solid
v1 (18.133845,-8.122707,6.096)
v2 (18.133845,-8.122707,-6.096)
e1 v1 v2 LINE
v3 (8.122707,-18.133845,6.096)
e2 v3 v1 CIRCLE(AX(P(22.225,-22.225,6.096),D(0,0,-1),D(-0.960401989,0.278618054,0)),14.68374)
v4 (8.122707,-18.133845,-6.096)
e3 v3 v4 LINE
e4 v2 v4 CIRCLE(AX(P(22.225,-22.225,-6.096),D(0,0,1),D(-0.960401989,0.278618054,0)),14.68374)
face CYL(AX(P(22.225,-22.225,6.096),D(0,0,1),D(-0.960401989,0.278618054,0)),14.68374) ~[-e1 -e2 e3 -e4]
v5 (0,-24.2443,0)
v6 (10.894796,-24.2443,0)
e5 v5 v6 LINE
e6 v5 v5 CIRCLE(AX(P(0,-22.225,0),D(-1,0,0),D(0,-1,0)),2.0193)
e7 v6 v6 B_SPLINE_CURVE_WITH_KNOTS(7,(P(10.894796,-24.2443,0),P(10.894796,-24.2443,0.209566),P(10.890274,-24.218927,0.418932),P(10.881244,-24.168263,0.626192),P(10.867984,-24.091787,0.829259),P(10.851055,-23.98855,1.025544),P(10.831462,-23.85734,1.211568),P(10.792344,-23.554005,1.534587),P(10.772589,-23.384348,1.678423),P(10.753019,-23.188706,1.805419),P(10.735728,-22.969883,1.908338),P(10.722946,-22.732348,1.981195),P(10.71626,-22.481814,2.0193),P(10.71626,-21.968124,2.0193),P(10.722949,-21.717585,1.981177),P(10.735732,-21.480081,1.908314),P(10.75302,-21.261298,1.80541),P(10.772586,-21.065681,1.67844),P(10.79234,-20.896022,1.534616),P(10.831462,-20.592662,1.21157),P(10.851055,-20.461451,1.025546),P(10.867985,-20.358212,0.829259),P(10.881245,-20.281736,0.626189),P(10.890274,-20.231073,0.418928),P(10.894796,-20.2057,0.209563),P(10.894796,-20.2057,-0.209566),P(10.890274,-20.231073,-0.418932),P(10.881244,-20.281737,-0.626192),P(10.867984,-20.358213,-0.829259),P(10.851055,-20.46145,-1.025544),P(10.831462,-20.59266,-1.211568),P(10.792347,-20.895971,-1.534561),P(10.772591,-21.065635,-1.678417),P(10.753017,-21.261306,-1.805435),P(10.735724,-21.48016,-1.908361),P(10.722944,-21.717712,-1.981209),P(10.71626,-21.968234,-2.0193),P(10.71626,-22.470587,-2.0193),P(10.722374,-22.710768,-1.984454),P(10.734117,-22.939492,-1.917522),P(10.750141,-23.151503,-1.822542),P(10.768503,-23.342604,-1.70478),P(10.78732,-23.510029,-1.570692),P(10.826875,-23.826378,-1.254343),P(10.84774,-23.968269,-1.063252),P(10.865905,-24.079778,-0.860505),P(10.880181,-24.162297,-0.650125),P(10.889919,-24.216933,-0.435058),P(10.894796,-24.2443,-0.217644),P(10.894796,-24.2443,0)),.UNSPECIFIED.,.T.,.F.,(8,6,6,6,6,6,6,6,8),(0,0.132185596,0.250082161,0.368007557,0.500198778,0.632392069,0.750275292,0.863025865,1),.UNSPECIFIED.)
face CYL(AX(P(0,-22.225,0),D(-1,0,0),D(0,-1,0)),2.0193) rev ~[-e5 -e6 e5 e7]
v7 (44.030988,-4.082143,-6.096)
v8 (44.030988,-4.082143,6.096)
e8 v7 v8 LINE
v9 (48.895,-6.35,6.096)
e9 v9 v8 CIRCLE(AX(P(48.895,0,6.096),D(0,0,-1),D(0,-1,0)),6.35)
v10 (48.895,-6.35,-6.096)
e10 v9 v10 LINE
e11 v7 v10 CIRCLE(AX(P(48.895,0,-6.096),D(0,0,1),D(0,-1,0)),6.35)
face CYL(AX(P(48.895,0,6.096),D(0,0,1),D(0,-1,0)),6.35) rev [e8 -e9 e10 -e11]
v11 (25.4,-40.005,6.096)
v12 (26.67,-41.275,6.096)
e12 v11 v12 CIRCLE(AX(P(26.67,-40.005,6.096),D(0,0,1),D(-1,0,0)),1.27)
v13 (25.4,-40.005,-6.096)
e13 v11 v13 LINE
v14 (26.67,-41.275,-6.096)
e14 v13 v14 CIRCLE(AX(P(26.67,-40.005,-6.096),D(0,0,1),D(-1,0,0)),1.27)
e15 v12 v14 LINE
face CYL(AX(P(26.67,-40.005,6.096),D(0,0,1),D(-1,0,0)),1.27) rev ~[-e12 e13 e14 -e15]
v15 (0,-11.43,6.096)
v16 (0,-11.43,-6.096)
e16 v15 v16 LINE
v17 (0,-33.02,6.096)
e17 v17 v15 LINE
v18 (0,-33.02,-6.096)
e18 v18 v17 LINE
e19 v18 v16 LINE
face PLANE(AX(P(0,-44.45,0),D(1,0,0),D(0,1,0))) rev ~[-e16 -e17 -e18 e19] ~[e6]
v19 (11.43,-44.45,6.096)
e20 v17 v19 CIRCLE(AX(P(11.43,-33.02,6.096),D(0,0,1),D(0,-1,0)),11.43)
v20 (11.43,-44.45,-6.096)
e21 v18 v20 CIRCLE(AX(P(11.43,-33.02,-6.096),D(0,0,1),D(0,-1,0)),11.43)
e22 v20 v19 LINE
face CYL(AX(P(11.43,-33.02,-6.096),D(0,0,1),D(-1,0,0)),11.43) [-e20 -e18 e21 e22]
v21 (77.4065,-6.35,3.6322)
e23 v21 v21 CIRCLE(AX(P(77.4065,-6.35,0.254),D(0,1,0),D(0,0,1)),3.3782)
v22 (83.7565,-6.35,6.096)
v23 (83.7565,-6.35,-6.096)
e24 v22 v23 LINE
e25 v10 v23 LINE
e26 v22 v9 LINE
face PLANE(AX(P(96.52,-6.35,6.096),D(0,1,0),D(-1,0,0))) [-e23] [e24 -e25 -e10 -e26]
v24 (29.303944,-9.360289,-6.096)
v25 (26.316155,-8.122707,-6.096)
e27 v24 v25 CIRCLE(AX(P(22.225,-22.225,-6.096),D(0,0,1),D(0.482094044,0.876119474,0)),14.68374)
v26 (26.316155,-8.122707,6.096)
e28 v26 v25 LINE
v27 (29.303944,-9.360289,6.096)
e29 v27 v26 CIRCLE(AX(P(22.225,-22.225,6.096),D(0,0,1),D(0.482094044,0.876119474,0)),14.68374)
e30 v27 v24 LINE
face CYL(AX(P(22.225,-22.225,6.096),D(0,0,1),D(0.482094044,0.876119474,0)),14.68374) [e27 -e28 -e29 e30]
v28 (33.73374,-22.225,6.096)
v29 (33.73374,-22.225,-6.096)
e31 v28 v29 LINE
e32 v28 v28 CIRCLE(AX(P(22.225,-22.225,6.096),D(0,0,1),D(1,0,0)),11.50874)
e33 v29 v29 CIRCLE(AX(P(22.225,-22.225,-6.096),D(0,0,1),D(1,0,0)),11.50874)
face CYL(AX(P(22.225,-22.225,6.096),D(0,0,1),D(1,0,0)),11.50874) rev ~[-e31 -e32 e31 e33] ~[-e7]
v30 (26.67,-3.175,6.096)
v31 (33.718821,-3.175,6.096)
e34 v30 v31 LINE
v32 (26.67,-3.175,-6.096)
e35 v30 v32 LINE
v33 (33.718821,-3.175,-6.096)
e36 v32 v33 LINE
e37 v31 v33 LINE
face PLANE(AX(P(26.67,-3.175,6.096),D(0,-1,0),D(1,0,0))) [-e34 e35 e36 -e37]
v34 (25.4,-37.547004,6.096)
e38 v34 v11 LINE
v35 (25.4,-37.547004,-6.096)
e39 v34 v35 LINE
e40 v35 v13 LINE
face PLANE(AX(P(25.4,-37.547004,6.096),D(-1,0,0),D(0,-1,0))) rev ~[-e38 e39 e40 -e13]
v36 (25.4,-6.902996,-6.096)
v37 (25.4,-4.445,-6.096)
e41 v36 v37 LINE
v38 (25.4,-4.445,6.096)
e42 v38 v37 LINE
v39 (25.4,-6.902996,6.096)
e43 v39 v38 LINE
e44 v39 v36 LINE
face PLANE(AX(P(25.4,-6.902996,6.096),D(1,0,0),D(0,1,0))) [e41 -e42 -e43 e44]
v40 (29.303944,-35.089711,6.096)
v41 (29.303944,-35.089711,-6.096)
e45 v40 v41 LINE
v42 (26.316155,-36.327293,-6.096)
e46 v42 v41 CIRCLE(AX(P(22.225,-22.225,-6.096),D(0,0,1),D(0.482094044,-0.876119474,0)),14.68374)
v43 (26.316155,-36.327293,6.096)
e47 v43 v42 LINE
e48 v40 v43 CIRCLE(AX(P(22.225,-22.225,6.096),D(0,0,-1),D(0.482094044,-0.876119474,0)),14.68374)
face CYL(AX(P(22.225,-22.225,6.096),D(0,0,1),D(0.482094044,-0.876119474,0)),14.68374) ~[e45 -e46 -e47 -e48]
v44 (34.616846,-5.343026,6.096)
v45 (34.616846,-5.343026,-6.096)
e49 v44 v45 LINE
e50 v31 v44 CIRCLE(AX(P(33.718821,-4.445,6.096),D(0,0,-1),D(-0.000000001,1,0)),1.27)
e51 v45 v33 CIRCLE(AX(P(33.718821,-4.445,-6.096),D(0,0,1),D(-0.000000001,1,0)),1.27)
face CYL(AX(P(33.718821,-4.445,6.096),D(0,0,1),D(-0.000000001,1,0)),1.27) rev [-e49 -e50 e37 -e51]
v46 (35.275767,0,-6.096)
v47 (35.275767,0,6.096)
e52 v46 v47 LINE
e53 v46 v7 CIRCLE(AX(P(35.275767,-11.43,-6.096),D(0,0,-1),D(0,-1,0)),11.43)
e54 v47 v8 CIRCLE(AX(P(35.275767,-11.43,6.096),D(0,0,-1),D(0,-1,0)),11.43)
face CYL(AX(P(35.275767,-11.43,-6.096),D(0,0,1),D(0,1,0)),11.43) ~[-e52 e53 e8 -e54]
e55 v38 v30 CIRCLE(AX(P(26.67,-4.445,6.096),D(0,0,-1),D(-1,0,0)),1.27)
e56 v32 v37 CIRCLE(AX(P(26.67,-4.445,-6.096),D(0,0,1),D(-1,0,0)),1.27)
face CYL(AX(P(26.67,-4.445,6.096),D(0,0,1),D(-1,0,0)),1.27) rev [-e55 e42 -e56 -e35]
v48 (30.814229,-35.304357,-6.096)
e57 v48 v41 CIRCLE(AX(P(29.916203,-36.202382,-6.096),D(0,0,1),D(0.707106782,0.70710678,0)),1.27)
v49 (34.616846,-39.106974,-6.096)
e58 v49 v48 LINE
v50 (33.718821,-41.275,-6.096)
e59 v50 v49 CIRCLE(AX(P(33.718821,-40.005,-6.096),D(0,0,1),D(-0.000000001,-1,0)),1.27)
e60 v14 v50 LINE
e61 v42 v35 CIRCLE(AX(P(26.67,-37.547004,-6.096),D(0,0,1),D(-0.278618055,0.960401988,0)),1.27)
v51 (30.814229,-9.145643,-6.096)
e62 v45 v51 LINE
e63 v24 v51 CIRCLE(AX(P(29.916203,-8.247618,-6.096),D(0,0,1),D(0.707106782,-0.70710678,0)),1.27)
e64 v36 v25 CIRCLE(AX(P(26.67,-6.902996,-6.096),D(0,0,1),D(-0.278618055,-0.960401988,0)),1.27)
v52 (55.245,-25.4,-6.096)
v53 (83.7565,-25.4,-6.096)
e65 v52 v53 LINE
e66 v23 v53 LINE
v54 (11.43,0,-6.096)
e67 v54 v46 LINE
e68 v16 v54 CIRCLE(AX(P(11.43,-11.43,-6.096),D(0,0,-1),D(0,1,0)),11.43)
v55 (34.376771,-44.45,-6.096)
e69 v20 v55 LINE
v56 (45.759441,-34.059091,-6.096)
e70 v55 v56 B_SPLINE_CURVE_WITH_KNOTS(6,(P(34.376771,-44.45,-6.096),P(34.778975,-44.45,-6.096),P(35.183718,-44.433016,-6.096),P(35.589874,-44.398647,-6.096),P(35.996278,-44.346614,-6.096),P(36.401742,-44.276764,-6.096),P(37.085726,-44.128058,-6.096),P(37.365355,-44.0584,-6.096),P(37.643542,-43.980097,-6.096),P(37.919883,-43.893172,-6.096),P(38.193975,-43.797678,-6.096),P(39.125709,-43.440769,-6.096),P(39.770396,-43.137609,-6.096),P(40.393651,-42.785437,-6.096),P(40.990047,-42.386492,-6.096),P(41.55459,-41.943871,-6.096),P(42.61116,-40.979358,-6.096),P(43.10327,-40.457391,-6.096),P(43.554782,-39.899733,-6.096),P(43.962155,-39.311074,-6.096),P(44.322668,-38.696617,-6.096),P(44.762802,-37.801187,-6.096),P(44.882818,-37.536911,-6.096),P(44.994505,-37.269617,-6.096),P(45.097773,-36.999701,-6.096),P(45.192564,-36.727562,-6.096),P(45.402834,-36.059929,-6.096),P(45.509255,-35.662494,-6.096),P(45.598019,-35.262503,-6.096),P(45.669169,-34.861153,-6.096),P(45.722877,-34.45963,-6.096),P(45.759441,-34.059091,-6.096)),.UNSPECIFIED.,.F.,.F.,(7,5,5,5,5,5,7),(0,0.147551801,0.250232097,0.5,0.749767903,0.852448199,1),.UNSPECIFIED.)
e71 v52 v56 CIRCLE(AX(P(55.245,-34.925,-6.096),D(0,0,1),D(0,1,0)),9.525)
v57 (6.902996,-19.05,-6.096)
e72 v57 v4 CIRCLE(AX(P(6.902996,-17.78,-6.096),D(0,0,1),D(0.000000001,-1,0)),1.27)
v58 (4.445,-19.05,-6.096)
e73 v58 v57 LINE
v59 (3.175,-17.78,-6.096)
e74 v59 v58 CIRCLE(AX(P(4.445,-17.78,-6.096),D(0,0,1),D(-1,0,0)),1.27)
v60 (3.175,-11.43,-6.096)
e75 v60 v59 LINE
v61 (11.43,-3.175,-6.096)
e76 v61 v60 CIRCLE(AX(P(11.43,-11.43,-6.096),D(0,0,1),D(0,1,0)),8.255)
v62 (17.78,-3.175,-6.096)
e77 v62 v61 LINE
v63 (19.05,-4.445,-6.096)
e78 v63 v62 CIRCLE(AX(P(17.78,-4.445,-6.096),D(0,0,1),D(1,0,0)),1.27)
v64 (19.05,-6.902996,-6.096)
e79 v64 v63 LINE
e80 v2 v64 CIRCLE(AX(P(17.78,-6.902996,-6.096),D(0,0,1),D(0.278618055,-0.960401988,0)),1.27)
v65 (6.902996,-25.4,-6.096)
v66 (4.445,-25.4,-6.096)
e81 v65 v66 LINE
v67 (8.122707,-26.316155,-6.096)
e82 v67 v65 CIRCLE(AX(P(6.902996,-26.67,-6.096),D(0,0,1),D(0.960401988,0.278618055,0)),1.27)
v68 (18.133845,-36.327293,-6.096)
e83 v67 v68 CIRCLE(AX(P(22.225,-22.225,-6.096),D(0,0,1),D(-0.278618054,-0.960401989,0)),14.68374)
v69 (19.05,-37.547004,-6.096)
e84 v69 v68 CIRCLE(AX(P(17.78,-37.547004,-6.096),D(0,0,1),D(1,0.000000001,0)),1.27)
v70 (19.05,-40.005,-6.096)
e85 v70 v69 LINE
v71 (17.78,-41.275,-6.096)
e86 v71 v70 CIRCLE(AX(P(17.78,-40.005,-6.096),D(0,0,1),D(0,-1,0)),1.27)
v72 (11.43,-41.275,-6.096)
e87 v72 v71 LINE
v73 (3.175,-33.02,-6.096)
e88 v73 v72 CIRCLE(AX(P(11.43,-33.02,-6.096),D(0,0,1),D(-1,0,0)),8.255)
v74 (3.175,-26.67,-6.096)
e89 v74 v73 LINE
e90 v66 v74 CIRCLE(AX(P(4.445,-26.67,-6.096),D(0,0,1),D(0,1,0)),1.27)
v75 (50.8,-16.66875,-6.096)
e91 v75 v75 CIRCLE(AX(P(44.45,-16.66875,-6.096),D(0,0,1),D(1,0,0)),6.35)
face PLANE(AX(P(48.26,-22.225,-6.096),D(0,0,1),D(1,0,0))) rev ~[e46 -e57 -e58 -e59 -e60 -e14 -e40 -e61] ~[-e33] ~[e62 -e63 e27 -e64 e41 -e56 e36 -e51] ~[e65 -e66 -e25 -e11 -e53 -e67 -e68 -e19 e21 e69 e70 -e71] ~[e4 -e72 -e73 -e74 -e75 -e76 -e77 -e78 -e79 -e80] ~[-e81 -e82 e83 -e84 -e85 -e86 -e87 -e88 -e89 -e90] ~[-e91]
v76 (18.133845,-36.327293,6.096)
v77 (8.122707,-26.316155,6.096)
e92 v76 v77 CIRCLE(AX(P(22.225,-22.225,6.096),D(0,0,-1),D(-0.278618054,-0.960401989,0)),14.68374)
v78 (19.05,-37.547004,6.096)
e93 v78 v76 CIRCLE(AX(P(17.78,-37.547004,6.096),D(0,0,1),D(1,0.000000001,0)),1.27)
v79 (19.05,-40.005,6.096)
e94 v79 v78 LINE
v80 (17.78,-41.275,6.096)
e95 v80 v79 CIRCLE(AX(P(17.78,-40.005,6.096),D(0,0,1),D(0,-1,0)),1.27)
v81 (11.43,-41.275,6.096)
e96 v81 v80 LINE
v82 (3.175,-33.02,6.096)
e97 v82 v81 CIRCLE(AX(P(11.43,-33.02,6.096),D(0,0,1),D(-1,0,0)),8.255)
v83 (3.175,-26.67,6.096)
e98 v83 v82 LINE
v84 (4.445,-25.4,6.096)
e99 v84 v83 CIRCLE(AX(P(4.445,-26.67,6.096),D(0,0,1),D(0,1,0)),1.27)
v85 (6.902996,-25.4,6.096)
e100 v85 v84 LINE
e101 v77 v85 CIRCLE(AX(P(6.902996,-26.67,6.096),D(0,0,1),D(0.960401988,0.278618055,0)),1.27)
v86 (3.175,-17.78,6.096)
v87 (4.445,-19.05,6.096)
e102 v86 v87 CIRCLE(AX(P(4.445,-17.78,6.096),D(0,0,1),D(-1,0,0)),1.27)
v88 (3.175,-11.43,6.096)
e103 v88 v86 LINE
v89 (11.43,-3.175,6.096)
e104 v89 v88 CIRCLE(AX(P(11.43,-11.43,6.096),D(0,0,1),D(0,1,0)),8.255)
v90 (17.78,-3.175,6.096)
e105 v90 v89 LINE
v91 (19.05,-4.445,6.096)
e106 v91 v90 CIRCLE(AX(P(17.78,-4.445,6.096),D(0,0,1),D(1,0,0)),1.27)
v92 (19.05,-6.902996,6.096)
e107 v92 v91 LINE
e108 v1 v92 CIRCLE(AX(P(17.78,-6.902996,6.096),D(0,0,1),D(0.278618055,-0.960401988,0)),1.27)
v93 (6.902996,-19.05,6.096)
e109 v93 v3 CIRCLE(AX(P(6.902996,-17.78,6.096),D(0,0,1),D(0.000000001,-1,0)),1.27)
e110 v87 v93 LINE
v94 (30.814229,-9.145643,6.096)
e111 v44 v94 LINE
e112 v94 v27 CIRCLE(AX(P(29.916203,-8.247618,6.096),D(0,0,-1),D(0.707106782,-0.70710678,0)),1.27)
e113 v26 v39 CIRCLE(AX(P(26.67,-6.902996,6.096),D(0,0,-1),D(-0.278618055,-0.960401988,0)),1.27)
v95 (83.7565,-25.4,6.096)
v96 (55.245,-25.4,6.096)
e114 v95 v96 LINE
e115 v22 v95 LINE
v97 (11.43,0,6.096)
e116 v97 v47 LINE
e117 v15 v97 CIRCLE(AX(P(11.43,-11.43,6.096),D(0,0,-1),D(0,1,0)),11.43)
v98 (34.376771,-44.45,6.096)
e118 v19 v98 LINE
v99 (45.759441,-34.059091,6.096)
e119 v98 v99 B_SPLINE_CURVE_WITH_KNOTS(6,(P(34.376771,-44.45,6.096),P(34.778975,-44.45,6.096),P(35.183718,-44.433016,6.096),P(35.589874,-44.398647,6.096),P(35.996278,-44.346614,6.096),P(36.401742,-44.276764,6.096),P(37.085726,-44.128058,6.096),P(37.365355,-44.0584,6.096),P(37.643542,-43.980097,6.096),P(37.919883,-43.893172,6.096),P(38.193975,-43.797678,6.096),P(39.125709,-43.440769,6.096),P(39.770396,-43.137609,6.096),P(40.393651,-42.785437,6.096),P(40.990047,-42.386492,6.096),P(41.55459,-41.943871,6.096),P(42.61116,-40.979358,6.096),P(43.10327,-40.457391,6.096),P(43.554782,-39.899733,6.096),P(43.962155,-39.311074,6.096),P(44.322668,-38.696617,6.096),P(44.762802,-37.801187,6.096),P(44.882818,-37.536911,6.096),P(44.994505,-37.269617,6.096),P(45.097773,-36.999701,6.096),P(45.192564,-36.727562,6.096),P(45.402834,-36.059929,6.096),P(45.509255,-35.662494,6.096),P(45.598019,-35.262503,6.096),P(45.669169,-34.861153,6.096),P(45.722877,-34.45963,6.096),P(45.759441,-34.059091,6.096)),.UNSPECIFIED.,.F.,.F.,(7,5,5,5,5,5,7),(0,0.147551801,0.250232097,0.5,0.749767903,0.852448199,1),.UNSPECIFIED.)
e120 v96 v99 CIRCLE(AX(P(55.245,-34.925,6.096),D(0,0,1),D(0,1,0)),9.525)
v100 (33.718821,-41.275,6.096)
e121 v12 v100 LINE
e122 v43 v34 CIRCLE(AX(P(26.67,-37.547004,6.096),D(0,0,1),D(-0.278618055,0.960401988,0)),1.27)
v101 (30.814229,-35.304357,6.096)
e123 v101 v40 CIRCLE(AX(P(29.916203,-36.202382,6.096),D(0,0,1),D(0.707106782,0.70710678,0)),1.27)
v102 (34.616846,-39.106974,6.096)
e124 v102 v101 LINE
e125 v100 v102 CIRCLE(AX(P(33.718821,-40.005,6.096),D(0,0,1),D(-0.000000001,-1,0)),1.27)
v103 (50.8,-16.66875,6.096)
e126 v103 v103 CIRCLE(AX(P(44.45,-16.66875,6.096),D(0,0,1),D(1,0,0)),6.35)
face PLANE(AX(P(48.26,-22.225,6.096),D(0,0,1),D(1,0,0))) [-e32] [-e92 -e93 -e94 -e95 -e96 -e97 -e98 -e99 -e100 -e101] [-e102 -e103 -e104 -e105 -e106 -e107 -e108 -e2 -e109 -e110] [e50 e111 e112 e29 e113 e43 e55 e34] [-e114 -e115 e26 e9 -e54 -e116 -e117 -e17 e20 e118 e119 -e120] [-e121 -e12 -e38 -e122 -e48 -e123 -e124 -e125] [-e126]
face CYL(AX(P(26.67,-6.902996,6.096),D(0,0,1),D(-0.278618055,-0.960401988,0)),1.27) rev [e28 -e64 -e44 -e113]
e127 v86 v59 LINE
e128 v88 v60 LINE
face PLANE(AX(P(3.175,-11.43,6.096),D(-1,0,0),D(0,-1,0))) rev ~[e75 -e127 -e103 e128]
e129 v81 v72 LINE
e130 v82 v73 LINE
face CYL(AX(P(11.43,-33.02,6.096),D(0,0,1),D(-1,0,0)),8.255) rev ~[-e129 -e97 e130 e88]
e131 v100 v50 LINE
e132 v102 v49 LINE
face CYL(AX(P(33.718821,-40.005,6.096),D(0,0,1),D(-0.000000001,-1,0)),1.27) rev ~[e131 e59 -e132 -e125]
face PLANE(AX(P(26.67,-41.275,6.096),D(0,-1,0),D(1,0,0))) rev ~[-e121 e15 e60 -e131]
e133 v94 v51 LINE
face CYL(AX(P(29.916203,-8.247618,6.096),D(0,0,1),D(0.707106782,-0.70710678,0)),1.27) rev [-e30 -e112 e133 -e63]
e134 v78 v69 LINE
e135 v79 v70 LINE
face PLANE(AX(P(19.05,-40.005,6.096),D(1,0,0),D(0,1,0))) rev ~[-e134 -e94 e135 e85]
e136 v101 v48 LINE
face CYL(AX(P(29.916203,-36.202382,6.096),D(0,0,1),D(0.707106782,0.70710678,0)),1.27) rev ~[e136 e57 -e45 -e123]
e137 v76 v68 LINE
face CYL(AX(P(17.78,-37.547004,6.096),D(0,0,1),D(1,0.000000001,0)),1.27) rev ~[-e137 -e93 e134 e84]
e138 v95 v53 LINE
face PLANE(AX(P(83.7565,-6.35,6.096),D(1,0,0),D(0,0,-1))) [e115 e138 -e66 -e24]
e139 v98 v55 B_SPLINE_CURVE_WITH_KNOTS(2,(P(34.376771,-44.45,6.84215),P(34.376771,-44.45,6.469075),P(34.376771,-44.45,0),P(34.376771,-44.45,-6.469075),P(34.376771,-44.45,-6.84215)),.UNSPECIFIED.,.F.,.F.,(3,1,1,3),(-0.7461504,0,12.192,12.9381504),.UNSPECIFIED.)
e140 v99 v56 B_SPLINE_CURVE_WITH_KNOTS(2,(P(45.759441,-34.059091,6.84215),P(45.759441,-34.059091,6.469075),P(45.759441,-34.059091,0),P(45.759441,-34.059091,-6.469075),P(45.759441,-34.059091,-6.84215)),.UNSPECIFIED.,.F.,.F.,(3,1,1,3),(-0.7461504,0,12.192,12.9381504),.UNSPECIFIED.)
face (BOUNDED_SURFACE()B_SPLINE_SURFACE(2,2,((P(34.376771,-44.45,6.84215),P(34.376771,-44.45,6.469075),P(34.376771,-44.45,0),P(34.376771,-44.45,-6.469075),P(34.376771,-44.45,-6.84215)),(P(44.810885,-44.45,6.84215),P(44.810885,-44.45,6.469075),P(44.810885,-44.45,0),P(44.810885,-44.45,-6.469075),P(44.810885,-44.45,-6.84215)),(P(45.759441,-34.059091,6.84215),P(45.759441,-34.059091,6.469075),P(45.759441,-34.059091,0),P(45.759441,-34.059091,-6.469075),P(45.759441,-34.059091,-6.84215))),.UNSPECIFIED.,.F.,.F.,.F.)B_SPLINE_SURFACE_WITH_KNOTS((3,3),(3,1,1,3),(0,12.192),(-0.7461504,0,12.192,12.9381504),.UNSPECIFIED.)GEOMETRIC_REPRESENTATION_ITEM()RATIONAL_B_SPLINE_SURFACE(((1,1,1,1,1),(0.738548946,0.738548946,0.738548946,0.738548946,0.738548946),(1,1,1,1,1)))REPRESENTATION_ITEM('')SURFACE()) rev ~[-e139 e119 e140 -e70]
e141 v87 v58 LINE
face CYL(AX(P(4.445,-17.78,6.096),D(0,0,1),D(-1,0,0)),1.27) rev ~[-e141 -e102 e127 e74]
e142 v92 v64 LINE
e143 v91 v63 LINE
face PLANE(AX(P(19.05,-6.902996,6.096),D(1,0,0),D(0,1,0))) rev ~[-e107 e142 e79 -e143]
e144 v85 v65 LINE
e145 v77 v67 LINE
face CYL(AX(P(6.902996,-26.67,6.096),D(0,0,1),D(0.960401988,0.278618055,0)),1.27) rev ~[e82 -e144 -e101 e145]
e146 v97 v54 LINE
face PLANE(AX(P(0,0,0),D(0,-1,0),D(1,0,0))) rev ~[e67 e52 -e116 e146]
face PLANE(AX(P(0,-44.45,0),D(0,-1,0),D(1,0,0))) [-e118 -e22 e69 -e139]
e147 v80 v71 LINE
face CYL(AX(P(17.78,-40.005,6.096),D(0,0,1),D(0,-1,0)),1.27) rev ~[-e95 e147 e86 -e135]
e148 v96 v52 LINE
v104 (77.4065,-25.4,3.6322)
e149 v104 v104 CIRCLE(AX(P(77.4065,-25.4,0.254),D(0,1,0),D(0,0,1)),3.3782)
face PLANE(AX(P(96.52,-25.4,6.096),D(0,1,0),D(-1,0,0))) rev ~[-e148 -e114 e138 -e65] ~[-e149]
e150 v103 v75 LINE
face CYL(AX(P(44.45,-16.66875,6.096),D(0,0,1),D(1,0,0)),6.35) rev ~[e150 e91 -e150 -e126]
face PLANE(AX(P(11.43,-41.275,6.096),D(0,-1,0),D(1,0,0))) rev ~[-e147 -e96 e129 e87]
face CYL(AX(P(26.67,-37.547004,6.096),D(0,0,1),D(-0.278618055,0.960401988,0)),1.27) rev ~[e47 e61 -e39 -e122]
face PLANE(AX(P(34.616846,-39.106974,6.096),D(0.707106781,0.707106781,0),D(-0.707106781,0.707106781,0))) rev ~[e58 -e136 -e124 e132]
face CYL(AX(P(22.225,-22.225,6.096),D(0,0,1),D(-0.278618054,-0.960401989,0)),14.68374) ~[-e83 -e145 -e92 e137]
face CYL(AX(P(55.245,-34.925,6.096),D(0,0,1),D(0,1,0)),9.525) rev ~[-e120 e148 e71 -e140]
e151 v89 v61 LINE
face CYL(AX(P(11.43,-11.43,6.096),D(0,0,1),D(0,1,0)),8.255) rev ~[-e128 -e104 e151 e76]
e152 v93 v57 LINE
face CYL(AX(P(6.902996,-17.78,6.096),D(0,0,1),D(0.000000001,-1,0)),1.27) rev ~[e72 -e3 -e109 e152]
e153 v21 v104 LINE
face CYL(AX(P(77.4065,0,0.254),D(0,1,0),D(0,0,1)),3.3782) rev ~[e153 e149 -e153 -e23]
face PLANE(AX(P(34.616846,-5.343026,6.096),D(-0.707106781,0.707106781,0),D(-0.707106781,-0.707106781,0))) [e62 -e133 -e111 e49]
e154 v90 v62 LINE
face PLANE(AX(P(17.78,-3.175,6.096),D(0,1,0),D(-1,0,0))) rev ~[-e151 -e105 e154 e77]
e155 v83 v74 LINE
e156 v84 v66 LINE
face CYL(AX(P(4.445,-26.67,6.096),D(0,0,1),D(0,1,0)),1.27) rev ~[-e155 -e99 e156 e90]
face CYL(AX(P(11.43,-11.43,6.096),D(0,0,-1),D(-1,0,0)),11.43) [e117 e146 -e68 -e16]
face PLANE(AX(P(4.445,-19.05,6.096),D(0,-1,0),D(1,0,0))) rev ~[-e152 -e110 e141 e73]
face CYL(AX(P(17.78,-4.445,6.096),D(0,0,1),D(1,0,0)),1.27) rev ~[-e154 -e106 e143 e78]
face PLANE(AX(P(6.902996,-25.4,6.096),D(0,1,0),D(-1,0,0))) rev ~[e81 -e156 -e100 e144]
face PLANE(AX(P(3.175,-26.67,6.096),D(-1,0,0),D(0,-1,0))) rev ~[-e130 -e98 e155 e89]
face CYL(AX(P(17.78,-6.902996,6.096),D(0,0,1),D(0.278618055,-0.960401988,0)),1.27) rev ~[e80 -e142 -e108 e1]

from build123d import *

# Parameters (mm, degrees)
SKETCH1_W               = 96.52
SKETCH1_H               = 44.45
BOSS_EXTRUDE1_DEPTH     = 6.096
CUT_EXTRUDE1_REACH      = 108.961
SKETCH2_R               = 11.50874
CUT_EXTRUDE2_REACH      = 108.438
SKETCH3_R               = 3.3782
CUT_EXTRUDE3_REACH      = 108.961
SKETCH7_W               = 12.7635
SKETCH7_H               = 12.192
CUT_EXTRUDE5_DEPTH      = 104.946532487
FILLET1_R               = 11.43
CUT_EXTRUDE9_REACH      = 97.016
CUT_EXTRUDE9_END_RADIUS = 11.50874
SKETCH11_R              = 2.0193
SKETCH12_R              = 6.35
CUT_EXTRUDE10_DEPTH     = 96.601248341


with BuildPart() as part:
    # Sketch1 → Boss-Extrude1 (new, symmetric)
    with BuildSketch(Plane.XY):
        with Locations((48.26, -22.225)):
            Rectangle(SKETCH1_W, SKETCH1_H)
    extrude(amount=BOSS_EXTRUDE1_DEPTH, both=True)

    # Sketch2 → Cut-Extrude1 (cut, up to next)
    with BuildSketch(Plane.XY.offset(6.096), mode=Mode.PRIVATE) as cut_extrude1_sk1:
        with Locations((22.225, -22.225)):
            Circle(SKETCH2_R)
    cut_extrude1_tool1 = extrude(cut_extrude1_sk1.sketch, amount=-CUT_EXTRUDE1_REACH, mode=Mode.PRIVATE) & part.part
    add(cut_extrude1_tool1.solids().sort_by_distance((22.225, -22.225, 6.096))[0], mode=Mode.SUBTRACT)

    # Sketch3 → Cut-Extrude2 (cut, up to next)
    with BuildSketch(Plane(origin=(0, 0, 0), x_dir=(1, 0, 0), z_dir=(0, 1, 0)), mode=Mode.PRIVATE) as cut_extrude2_sk1:
        with Locations(Location((77.4065, -0.254, 0), (0, 0, 270))):
            Circle(SKETCH3_R)
    cut_extrude2_tool1 = extrude(cut_extrude2_sk1.sketch, amount=-CUT_EXTRUDE2_REACH, mode=Mode.PRIVATE) & part.part
    add(cut_extrude2_tool1.solids().sort_by_distance((77.4065, 0, 0.254))[0], mode=Mode.SUBTRACT)

    # Sketch4 → Cut-Extrude3 (cut, up to next)
    with BuildSketch(Plane.XY.offset(6.096), mode=Mode.PRIVATE) as cut_extrude3_sk1:
        with BuildLine():
            Line((48.895, 6.35), (96.52, 6.35))
            ThreePointArc((96.52, 6.35), (102.87, 0), (96.52, -6.35))
            Line((96.52, -6.35), (48.895, -6.35))
            ThreePointArc((48.895, -6.35), (42.545, 0), (48.895, 6.35))
        make_face()
    cut_extrude3_tool1 = extrude(cut_extrude3_sk1.sketch, amount=-CUT_EXTRUDE3_REACH, mode=Mode.PRIVATE) & part.part
    # Sketch4 → Cut-Extrude3 (cut, up to next)
    with BuildSketch(Plane.XY.offset(6.096), mode=Mode.PRIVATE) as cut_extrude3_sk2:
        with BuildLine():
            Line((45.72, -34.925), (45.72, -44.45))
            Line((45.72, -44.45), (55.245, -44.45))
            Line((55.245, -44.45), (96.52, -44.45))
            ThreePointArc((96.52, -44.45), (106.045, -34.925), (96.52, -25.4))
            Line((96.52, -25.4), (55.245, -25.4))
            ThreePointArc((55.245, -25.4), (48.509807909, -28.189807909), (45.72, -34.925))
        make_face()
    cut_extrude3_tool2 = extrude(cut_extrude3_sk2.sketch, amount=-CUT_EXTRUDE3_REACH, mode=Mode.PRIVATE) & part.part
    add(cut_extrude3_tool1.solids().sort_by_distance((72.7075, 0, 6.096))[0], mode=Mode.SUBTRACT)
    add(cut_extrude3_tool2.solids().sort_by_distance((75.382091, -35.05704, 6.096))[0], mode=Mode.SUBTRACT)

    # Sketch7 → Cut-Extrude5 (cut, through all)
    with BuildSketch(Plane(origin=(0, -6.35, 0), x_dir=(1, 0, 0), z_dir=(0, 1, 0))):
        with Locations((90.13825, 0)):
            Rectangle(SKETCH7_W, SKETCH7_H)
    extrude(amount=-CUT_EXTRUDE5_DEPTH, mode=Mode.SUBTRACT)

    # Fillet1
    fillet1_edges = [part.edges().sort_by_distance(p)[0] for p in [
        (42.545, 0, 0),
        (45.72, -44.45, 0),
        (0, -44.45, 0),
        (0, 0, 0),
    ]]
    fillet(fillet1_edges, radius=FILLET1_R)

    # Cut-Extrude9: up to this cylinder (the profile starts outside it)
    cut_extrude9_end = Plane(origin=(22.225, -22.225, 0), z_dir=(0, 0, 1)) * Cylinder(CUT_EXTRUDE9_END_RADIUS, 218.04948, mode=Mode.PRIVATE)
    # Sketch11 → Cut-Extrude9 (cut, up to the surface)
    with BuildSketch(Plane.ZY, mode=Mode.PRIVATE) as cut_extrude9_sk1:
        with Locations(Location((0, -22.225, 0), (0, 0, 270))):
            Circle(SKETCH11_R)
    cut_extrude9_tool1 = extrude(cut_extrude9_sk1.sketch, amount=-CUT_EXTRUDE9_REACH, mode=Mode.PRIVATE) - cut_extrude9_end
    add(cut_extrude9_tool1.solids().sort_by_distance((0, -22.225, 0))[0], mode=Mode.SUBTRACT)

    # Sketch12 → Cut-Extrude10 (cut, through all)
    with BuildSketch(Plane.XY.offset(6.096)):
        with Locations((44.45, -16.66875)):
            Circle(SKETCH12_R)
        with BuildLine():
            Line((17.78, -3.175), (11.43, -3.175))
            ThreePointArc((11.43, -3.175), (5.592833521, -5.592833521), (3.175, -11.43))
            Line((3.175, -11.43), (3.175, -17.78))
            ThreePointArc((3.175, -17.78), (3.546974388, -18.678025612), (4.445, -19.05))
            Line((4.445, -19.05), (6.902996378, -19.05))
            ThreePointArc((6.902996378, -19.05), (7.665727307, -18.795451392), (8.122706904, -18.133844929))
            ThreePointArc((8.122706904, -18.133844929), (11.842027873, -11.842027873), (18.133844929, -8.122706904))
            ThreePointArc((18.133844929, -8.122706904), (18.795451392, -7.665727307), (19.05, -6.902996378))
            Line((19.05, -6.902996378), (19.05, -4.445))
            ThreePointArc((19.05, -4.445), (18.678025612, -3.546974388), (17.78, -3.175))
        make_face()
        with BuildLine():
            Line((26.67, -41.275), (33.718820715, -41.275))
            ThreePointArc((33.718820715, -41.275), (34.892147722, -40.491007959), (34.616846327, -39.106974388))
            Line((34.616846327, -39.106974388), (30.814228632, -35.304356693))
            ThreePointArc((30.814228632, -35.304356693), (30.094903373, -34.945017527), (29.303943585, -35.089710572))
            ThreePointArc((29.303943585, -35.089710572), (27.844224023, -35.791006847), (26.316155071, -36.327293096))
            ThreePointArc((26.316155071, -36.327293096), (25.654548608, -36.784272693), (25.4, -37.547003622))
            Line((25.4, -37.547003622), (25.4, -40.005))
            ThreePointArc((25.4, -40.005), (25.771974388, -40.903025612), (26.67, -41.275))
        make_face()
        with BuildLine():
            Line((34.616846327, -5.343025612), (30.814228632, -9.145643307))
            ThreePointArc((30.814228632, -9.145643307), (30.094903373, -9.504982473), (29.303943585, -9.360289428))
            ThreePointArc((29.303943585, -9.360289428), (27.844224023, -8.658993153), (26.316155071, -8.122706904))
            ThreePointArc((26.316155071, -8.122706904), (25.654548608, -7.665727307), (25.4, -6.902996378))
            Line((25.4, -6.902996378), (25.4, -4.445))
            ThreePointArc((25.4, -4.445), (25.771974388, -3.546974388), (26.67, -3.175))
            Line((26.67, -3.175), (33.718820715, -3.175))
            ThreePointArc((33.718820715, -3.175), (34.892147722, -3.958992041), (34.616846327, -5.343025612))
        make_face()
        with BuildLine():
            Line((11.43, -41.275), (17.78, -41.275))
            ThreePointArc((17.78, -41.275), (18.678025612, -40.903025612), (19.05, -40.005))
            Line((19.05, -40.005), (19.05, -37.547003622))
            ThreePointArc((19.05, -37.547003622), (18.795451392, -36.784272693), (18.133844929, -36.327293096))
            ThreePointArc((18.133844929, -36.327293096), (11.842027873, -32.607972127), (8.122706904, -26.316155071))
            ThreePointArc((8.122706904, -26.316155071), (7.665727307, -25.654548608), (6.902996378, -25.4))
            Line((6.902996378, -25.4), (4.445, -25.4))
            ThreePointArc((4.445, -25.4), (3.546974388, -25.771974388), (3.175, -26.67))
            Line((3.175, -26.67), (3.175, -33.02))
            ThreePointArc((3.175, -33.02), (5.592833521, -38.857166479), (11.43, -41.275))
        make_face()
    extrude(amount=-CUT_EXTRUDE10_DEPTH, mode=Mode.SUBTRACT)


solid = part.part
